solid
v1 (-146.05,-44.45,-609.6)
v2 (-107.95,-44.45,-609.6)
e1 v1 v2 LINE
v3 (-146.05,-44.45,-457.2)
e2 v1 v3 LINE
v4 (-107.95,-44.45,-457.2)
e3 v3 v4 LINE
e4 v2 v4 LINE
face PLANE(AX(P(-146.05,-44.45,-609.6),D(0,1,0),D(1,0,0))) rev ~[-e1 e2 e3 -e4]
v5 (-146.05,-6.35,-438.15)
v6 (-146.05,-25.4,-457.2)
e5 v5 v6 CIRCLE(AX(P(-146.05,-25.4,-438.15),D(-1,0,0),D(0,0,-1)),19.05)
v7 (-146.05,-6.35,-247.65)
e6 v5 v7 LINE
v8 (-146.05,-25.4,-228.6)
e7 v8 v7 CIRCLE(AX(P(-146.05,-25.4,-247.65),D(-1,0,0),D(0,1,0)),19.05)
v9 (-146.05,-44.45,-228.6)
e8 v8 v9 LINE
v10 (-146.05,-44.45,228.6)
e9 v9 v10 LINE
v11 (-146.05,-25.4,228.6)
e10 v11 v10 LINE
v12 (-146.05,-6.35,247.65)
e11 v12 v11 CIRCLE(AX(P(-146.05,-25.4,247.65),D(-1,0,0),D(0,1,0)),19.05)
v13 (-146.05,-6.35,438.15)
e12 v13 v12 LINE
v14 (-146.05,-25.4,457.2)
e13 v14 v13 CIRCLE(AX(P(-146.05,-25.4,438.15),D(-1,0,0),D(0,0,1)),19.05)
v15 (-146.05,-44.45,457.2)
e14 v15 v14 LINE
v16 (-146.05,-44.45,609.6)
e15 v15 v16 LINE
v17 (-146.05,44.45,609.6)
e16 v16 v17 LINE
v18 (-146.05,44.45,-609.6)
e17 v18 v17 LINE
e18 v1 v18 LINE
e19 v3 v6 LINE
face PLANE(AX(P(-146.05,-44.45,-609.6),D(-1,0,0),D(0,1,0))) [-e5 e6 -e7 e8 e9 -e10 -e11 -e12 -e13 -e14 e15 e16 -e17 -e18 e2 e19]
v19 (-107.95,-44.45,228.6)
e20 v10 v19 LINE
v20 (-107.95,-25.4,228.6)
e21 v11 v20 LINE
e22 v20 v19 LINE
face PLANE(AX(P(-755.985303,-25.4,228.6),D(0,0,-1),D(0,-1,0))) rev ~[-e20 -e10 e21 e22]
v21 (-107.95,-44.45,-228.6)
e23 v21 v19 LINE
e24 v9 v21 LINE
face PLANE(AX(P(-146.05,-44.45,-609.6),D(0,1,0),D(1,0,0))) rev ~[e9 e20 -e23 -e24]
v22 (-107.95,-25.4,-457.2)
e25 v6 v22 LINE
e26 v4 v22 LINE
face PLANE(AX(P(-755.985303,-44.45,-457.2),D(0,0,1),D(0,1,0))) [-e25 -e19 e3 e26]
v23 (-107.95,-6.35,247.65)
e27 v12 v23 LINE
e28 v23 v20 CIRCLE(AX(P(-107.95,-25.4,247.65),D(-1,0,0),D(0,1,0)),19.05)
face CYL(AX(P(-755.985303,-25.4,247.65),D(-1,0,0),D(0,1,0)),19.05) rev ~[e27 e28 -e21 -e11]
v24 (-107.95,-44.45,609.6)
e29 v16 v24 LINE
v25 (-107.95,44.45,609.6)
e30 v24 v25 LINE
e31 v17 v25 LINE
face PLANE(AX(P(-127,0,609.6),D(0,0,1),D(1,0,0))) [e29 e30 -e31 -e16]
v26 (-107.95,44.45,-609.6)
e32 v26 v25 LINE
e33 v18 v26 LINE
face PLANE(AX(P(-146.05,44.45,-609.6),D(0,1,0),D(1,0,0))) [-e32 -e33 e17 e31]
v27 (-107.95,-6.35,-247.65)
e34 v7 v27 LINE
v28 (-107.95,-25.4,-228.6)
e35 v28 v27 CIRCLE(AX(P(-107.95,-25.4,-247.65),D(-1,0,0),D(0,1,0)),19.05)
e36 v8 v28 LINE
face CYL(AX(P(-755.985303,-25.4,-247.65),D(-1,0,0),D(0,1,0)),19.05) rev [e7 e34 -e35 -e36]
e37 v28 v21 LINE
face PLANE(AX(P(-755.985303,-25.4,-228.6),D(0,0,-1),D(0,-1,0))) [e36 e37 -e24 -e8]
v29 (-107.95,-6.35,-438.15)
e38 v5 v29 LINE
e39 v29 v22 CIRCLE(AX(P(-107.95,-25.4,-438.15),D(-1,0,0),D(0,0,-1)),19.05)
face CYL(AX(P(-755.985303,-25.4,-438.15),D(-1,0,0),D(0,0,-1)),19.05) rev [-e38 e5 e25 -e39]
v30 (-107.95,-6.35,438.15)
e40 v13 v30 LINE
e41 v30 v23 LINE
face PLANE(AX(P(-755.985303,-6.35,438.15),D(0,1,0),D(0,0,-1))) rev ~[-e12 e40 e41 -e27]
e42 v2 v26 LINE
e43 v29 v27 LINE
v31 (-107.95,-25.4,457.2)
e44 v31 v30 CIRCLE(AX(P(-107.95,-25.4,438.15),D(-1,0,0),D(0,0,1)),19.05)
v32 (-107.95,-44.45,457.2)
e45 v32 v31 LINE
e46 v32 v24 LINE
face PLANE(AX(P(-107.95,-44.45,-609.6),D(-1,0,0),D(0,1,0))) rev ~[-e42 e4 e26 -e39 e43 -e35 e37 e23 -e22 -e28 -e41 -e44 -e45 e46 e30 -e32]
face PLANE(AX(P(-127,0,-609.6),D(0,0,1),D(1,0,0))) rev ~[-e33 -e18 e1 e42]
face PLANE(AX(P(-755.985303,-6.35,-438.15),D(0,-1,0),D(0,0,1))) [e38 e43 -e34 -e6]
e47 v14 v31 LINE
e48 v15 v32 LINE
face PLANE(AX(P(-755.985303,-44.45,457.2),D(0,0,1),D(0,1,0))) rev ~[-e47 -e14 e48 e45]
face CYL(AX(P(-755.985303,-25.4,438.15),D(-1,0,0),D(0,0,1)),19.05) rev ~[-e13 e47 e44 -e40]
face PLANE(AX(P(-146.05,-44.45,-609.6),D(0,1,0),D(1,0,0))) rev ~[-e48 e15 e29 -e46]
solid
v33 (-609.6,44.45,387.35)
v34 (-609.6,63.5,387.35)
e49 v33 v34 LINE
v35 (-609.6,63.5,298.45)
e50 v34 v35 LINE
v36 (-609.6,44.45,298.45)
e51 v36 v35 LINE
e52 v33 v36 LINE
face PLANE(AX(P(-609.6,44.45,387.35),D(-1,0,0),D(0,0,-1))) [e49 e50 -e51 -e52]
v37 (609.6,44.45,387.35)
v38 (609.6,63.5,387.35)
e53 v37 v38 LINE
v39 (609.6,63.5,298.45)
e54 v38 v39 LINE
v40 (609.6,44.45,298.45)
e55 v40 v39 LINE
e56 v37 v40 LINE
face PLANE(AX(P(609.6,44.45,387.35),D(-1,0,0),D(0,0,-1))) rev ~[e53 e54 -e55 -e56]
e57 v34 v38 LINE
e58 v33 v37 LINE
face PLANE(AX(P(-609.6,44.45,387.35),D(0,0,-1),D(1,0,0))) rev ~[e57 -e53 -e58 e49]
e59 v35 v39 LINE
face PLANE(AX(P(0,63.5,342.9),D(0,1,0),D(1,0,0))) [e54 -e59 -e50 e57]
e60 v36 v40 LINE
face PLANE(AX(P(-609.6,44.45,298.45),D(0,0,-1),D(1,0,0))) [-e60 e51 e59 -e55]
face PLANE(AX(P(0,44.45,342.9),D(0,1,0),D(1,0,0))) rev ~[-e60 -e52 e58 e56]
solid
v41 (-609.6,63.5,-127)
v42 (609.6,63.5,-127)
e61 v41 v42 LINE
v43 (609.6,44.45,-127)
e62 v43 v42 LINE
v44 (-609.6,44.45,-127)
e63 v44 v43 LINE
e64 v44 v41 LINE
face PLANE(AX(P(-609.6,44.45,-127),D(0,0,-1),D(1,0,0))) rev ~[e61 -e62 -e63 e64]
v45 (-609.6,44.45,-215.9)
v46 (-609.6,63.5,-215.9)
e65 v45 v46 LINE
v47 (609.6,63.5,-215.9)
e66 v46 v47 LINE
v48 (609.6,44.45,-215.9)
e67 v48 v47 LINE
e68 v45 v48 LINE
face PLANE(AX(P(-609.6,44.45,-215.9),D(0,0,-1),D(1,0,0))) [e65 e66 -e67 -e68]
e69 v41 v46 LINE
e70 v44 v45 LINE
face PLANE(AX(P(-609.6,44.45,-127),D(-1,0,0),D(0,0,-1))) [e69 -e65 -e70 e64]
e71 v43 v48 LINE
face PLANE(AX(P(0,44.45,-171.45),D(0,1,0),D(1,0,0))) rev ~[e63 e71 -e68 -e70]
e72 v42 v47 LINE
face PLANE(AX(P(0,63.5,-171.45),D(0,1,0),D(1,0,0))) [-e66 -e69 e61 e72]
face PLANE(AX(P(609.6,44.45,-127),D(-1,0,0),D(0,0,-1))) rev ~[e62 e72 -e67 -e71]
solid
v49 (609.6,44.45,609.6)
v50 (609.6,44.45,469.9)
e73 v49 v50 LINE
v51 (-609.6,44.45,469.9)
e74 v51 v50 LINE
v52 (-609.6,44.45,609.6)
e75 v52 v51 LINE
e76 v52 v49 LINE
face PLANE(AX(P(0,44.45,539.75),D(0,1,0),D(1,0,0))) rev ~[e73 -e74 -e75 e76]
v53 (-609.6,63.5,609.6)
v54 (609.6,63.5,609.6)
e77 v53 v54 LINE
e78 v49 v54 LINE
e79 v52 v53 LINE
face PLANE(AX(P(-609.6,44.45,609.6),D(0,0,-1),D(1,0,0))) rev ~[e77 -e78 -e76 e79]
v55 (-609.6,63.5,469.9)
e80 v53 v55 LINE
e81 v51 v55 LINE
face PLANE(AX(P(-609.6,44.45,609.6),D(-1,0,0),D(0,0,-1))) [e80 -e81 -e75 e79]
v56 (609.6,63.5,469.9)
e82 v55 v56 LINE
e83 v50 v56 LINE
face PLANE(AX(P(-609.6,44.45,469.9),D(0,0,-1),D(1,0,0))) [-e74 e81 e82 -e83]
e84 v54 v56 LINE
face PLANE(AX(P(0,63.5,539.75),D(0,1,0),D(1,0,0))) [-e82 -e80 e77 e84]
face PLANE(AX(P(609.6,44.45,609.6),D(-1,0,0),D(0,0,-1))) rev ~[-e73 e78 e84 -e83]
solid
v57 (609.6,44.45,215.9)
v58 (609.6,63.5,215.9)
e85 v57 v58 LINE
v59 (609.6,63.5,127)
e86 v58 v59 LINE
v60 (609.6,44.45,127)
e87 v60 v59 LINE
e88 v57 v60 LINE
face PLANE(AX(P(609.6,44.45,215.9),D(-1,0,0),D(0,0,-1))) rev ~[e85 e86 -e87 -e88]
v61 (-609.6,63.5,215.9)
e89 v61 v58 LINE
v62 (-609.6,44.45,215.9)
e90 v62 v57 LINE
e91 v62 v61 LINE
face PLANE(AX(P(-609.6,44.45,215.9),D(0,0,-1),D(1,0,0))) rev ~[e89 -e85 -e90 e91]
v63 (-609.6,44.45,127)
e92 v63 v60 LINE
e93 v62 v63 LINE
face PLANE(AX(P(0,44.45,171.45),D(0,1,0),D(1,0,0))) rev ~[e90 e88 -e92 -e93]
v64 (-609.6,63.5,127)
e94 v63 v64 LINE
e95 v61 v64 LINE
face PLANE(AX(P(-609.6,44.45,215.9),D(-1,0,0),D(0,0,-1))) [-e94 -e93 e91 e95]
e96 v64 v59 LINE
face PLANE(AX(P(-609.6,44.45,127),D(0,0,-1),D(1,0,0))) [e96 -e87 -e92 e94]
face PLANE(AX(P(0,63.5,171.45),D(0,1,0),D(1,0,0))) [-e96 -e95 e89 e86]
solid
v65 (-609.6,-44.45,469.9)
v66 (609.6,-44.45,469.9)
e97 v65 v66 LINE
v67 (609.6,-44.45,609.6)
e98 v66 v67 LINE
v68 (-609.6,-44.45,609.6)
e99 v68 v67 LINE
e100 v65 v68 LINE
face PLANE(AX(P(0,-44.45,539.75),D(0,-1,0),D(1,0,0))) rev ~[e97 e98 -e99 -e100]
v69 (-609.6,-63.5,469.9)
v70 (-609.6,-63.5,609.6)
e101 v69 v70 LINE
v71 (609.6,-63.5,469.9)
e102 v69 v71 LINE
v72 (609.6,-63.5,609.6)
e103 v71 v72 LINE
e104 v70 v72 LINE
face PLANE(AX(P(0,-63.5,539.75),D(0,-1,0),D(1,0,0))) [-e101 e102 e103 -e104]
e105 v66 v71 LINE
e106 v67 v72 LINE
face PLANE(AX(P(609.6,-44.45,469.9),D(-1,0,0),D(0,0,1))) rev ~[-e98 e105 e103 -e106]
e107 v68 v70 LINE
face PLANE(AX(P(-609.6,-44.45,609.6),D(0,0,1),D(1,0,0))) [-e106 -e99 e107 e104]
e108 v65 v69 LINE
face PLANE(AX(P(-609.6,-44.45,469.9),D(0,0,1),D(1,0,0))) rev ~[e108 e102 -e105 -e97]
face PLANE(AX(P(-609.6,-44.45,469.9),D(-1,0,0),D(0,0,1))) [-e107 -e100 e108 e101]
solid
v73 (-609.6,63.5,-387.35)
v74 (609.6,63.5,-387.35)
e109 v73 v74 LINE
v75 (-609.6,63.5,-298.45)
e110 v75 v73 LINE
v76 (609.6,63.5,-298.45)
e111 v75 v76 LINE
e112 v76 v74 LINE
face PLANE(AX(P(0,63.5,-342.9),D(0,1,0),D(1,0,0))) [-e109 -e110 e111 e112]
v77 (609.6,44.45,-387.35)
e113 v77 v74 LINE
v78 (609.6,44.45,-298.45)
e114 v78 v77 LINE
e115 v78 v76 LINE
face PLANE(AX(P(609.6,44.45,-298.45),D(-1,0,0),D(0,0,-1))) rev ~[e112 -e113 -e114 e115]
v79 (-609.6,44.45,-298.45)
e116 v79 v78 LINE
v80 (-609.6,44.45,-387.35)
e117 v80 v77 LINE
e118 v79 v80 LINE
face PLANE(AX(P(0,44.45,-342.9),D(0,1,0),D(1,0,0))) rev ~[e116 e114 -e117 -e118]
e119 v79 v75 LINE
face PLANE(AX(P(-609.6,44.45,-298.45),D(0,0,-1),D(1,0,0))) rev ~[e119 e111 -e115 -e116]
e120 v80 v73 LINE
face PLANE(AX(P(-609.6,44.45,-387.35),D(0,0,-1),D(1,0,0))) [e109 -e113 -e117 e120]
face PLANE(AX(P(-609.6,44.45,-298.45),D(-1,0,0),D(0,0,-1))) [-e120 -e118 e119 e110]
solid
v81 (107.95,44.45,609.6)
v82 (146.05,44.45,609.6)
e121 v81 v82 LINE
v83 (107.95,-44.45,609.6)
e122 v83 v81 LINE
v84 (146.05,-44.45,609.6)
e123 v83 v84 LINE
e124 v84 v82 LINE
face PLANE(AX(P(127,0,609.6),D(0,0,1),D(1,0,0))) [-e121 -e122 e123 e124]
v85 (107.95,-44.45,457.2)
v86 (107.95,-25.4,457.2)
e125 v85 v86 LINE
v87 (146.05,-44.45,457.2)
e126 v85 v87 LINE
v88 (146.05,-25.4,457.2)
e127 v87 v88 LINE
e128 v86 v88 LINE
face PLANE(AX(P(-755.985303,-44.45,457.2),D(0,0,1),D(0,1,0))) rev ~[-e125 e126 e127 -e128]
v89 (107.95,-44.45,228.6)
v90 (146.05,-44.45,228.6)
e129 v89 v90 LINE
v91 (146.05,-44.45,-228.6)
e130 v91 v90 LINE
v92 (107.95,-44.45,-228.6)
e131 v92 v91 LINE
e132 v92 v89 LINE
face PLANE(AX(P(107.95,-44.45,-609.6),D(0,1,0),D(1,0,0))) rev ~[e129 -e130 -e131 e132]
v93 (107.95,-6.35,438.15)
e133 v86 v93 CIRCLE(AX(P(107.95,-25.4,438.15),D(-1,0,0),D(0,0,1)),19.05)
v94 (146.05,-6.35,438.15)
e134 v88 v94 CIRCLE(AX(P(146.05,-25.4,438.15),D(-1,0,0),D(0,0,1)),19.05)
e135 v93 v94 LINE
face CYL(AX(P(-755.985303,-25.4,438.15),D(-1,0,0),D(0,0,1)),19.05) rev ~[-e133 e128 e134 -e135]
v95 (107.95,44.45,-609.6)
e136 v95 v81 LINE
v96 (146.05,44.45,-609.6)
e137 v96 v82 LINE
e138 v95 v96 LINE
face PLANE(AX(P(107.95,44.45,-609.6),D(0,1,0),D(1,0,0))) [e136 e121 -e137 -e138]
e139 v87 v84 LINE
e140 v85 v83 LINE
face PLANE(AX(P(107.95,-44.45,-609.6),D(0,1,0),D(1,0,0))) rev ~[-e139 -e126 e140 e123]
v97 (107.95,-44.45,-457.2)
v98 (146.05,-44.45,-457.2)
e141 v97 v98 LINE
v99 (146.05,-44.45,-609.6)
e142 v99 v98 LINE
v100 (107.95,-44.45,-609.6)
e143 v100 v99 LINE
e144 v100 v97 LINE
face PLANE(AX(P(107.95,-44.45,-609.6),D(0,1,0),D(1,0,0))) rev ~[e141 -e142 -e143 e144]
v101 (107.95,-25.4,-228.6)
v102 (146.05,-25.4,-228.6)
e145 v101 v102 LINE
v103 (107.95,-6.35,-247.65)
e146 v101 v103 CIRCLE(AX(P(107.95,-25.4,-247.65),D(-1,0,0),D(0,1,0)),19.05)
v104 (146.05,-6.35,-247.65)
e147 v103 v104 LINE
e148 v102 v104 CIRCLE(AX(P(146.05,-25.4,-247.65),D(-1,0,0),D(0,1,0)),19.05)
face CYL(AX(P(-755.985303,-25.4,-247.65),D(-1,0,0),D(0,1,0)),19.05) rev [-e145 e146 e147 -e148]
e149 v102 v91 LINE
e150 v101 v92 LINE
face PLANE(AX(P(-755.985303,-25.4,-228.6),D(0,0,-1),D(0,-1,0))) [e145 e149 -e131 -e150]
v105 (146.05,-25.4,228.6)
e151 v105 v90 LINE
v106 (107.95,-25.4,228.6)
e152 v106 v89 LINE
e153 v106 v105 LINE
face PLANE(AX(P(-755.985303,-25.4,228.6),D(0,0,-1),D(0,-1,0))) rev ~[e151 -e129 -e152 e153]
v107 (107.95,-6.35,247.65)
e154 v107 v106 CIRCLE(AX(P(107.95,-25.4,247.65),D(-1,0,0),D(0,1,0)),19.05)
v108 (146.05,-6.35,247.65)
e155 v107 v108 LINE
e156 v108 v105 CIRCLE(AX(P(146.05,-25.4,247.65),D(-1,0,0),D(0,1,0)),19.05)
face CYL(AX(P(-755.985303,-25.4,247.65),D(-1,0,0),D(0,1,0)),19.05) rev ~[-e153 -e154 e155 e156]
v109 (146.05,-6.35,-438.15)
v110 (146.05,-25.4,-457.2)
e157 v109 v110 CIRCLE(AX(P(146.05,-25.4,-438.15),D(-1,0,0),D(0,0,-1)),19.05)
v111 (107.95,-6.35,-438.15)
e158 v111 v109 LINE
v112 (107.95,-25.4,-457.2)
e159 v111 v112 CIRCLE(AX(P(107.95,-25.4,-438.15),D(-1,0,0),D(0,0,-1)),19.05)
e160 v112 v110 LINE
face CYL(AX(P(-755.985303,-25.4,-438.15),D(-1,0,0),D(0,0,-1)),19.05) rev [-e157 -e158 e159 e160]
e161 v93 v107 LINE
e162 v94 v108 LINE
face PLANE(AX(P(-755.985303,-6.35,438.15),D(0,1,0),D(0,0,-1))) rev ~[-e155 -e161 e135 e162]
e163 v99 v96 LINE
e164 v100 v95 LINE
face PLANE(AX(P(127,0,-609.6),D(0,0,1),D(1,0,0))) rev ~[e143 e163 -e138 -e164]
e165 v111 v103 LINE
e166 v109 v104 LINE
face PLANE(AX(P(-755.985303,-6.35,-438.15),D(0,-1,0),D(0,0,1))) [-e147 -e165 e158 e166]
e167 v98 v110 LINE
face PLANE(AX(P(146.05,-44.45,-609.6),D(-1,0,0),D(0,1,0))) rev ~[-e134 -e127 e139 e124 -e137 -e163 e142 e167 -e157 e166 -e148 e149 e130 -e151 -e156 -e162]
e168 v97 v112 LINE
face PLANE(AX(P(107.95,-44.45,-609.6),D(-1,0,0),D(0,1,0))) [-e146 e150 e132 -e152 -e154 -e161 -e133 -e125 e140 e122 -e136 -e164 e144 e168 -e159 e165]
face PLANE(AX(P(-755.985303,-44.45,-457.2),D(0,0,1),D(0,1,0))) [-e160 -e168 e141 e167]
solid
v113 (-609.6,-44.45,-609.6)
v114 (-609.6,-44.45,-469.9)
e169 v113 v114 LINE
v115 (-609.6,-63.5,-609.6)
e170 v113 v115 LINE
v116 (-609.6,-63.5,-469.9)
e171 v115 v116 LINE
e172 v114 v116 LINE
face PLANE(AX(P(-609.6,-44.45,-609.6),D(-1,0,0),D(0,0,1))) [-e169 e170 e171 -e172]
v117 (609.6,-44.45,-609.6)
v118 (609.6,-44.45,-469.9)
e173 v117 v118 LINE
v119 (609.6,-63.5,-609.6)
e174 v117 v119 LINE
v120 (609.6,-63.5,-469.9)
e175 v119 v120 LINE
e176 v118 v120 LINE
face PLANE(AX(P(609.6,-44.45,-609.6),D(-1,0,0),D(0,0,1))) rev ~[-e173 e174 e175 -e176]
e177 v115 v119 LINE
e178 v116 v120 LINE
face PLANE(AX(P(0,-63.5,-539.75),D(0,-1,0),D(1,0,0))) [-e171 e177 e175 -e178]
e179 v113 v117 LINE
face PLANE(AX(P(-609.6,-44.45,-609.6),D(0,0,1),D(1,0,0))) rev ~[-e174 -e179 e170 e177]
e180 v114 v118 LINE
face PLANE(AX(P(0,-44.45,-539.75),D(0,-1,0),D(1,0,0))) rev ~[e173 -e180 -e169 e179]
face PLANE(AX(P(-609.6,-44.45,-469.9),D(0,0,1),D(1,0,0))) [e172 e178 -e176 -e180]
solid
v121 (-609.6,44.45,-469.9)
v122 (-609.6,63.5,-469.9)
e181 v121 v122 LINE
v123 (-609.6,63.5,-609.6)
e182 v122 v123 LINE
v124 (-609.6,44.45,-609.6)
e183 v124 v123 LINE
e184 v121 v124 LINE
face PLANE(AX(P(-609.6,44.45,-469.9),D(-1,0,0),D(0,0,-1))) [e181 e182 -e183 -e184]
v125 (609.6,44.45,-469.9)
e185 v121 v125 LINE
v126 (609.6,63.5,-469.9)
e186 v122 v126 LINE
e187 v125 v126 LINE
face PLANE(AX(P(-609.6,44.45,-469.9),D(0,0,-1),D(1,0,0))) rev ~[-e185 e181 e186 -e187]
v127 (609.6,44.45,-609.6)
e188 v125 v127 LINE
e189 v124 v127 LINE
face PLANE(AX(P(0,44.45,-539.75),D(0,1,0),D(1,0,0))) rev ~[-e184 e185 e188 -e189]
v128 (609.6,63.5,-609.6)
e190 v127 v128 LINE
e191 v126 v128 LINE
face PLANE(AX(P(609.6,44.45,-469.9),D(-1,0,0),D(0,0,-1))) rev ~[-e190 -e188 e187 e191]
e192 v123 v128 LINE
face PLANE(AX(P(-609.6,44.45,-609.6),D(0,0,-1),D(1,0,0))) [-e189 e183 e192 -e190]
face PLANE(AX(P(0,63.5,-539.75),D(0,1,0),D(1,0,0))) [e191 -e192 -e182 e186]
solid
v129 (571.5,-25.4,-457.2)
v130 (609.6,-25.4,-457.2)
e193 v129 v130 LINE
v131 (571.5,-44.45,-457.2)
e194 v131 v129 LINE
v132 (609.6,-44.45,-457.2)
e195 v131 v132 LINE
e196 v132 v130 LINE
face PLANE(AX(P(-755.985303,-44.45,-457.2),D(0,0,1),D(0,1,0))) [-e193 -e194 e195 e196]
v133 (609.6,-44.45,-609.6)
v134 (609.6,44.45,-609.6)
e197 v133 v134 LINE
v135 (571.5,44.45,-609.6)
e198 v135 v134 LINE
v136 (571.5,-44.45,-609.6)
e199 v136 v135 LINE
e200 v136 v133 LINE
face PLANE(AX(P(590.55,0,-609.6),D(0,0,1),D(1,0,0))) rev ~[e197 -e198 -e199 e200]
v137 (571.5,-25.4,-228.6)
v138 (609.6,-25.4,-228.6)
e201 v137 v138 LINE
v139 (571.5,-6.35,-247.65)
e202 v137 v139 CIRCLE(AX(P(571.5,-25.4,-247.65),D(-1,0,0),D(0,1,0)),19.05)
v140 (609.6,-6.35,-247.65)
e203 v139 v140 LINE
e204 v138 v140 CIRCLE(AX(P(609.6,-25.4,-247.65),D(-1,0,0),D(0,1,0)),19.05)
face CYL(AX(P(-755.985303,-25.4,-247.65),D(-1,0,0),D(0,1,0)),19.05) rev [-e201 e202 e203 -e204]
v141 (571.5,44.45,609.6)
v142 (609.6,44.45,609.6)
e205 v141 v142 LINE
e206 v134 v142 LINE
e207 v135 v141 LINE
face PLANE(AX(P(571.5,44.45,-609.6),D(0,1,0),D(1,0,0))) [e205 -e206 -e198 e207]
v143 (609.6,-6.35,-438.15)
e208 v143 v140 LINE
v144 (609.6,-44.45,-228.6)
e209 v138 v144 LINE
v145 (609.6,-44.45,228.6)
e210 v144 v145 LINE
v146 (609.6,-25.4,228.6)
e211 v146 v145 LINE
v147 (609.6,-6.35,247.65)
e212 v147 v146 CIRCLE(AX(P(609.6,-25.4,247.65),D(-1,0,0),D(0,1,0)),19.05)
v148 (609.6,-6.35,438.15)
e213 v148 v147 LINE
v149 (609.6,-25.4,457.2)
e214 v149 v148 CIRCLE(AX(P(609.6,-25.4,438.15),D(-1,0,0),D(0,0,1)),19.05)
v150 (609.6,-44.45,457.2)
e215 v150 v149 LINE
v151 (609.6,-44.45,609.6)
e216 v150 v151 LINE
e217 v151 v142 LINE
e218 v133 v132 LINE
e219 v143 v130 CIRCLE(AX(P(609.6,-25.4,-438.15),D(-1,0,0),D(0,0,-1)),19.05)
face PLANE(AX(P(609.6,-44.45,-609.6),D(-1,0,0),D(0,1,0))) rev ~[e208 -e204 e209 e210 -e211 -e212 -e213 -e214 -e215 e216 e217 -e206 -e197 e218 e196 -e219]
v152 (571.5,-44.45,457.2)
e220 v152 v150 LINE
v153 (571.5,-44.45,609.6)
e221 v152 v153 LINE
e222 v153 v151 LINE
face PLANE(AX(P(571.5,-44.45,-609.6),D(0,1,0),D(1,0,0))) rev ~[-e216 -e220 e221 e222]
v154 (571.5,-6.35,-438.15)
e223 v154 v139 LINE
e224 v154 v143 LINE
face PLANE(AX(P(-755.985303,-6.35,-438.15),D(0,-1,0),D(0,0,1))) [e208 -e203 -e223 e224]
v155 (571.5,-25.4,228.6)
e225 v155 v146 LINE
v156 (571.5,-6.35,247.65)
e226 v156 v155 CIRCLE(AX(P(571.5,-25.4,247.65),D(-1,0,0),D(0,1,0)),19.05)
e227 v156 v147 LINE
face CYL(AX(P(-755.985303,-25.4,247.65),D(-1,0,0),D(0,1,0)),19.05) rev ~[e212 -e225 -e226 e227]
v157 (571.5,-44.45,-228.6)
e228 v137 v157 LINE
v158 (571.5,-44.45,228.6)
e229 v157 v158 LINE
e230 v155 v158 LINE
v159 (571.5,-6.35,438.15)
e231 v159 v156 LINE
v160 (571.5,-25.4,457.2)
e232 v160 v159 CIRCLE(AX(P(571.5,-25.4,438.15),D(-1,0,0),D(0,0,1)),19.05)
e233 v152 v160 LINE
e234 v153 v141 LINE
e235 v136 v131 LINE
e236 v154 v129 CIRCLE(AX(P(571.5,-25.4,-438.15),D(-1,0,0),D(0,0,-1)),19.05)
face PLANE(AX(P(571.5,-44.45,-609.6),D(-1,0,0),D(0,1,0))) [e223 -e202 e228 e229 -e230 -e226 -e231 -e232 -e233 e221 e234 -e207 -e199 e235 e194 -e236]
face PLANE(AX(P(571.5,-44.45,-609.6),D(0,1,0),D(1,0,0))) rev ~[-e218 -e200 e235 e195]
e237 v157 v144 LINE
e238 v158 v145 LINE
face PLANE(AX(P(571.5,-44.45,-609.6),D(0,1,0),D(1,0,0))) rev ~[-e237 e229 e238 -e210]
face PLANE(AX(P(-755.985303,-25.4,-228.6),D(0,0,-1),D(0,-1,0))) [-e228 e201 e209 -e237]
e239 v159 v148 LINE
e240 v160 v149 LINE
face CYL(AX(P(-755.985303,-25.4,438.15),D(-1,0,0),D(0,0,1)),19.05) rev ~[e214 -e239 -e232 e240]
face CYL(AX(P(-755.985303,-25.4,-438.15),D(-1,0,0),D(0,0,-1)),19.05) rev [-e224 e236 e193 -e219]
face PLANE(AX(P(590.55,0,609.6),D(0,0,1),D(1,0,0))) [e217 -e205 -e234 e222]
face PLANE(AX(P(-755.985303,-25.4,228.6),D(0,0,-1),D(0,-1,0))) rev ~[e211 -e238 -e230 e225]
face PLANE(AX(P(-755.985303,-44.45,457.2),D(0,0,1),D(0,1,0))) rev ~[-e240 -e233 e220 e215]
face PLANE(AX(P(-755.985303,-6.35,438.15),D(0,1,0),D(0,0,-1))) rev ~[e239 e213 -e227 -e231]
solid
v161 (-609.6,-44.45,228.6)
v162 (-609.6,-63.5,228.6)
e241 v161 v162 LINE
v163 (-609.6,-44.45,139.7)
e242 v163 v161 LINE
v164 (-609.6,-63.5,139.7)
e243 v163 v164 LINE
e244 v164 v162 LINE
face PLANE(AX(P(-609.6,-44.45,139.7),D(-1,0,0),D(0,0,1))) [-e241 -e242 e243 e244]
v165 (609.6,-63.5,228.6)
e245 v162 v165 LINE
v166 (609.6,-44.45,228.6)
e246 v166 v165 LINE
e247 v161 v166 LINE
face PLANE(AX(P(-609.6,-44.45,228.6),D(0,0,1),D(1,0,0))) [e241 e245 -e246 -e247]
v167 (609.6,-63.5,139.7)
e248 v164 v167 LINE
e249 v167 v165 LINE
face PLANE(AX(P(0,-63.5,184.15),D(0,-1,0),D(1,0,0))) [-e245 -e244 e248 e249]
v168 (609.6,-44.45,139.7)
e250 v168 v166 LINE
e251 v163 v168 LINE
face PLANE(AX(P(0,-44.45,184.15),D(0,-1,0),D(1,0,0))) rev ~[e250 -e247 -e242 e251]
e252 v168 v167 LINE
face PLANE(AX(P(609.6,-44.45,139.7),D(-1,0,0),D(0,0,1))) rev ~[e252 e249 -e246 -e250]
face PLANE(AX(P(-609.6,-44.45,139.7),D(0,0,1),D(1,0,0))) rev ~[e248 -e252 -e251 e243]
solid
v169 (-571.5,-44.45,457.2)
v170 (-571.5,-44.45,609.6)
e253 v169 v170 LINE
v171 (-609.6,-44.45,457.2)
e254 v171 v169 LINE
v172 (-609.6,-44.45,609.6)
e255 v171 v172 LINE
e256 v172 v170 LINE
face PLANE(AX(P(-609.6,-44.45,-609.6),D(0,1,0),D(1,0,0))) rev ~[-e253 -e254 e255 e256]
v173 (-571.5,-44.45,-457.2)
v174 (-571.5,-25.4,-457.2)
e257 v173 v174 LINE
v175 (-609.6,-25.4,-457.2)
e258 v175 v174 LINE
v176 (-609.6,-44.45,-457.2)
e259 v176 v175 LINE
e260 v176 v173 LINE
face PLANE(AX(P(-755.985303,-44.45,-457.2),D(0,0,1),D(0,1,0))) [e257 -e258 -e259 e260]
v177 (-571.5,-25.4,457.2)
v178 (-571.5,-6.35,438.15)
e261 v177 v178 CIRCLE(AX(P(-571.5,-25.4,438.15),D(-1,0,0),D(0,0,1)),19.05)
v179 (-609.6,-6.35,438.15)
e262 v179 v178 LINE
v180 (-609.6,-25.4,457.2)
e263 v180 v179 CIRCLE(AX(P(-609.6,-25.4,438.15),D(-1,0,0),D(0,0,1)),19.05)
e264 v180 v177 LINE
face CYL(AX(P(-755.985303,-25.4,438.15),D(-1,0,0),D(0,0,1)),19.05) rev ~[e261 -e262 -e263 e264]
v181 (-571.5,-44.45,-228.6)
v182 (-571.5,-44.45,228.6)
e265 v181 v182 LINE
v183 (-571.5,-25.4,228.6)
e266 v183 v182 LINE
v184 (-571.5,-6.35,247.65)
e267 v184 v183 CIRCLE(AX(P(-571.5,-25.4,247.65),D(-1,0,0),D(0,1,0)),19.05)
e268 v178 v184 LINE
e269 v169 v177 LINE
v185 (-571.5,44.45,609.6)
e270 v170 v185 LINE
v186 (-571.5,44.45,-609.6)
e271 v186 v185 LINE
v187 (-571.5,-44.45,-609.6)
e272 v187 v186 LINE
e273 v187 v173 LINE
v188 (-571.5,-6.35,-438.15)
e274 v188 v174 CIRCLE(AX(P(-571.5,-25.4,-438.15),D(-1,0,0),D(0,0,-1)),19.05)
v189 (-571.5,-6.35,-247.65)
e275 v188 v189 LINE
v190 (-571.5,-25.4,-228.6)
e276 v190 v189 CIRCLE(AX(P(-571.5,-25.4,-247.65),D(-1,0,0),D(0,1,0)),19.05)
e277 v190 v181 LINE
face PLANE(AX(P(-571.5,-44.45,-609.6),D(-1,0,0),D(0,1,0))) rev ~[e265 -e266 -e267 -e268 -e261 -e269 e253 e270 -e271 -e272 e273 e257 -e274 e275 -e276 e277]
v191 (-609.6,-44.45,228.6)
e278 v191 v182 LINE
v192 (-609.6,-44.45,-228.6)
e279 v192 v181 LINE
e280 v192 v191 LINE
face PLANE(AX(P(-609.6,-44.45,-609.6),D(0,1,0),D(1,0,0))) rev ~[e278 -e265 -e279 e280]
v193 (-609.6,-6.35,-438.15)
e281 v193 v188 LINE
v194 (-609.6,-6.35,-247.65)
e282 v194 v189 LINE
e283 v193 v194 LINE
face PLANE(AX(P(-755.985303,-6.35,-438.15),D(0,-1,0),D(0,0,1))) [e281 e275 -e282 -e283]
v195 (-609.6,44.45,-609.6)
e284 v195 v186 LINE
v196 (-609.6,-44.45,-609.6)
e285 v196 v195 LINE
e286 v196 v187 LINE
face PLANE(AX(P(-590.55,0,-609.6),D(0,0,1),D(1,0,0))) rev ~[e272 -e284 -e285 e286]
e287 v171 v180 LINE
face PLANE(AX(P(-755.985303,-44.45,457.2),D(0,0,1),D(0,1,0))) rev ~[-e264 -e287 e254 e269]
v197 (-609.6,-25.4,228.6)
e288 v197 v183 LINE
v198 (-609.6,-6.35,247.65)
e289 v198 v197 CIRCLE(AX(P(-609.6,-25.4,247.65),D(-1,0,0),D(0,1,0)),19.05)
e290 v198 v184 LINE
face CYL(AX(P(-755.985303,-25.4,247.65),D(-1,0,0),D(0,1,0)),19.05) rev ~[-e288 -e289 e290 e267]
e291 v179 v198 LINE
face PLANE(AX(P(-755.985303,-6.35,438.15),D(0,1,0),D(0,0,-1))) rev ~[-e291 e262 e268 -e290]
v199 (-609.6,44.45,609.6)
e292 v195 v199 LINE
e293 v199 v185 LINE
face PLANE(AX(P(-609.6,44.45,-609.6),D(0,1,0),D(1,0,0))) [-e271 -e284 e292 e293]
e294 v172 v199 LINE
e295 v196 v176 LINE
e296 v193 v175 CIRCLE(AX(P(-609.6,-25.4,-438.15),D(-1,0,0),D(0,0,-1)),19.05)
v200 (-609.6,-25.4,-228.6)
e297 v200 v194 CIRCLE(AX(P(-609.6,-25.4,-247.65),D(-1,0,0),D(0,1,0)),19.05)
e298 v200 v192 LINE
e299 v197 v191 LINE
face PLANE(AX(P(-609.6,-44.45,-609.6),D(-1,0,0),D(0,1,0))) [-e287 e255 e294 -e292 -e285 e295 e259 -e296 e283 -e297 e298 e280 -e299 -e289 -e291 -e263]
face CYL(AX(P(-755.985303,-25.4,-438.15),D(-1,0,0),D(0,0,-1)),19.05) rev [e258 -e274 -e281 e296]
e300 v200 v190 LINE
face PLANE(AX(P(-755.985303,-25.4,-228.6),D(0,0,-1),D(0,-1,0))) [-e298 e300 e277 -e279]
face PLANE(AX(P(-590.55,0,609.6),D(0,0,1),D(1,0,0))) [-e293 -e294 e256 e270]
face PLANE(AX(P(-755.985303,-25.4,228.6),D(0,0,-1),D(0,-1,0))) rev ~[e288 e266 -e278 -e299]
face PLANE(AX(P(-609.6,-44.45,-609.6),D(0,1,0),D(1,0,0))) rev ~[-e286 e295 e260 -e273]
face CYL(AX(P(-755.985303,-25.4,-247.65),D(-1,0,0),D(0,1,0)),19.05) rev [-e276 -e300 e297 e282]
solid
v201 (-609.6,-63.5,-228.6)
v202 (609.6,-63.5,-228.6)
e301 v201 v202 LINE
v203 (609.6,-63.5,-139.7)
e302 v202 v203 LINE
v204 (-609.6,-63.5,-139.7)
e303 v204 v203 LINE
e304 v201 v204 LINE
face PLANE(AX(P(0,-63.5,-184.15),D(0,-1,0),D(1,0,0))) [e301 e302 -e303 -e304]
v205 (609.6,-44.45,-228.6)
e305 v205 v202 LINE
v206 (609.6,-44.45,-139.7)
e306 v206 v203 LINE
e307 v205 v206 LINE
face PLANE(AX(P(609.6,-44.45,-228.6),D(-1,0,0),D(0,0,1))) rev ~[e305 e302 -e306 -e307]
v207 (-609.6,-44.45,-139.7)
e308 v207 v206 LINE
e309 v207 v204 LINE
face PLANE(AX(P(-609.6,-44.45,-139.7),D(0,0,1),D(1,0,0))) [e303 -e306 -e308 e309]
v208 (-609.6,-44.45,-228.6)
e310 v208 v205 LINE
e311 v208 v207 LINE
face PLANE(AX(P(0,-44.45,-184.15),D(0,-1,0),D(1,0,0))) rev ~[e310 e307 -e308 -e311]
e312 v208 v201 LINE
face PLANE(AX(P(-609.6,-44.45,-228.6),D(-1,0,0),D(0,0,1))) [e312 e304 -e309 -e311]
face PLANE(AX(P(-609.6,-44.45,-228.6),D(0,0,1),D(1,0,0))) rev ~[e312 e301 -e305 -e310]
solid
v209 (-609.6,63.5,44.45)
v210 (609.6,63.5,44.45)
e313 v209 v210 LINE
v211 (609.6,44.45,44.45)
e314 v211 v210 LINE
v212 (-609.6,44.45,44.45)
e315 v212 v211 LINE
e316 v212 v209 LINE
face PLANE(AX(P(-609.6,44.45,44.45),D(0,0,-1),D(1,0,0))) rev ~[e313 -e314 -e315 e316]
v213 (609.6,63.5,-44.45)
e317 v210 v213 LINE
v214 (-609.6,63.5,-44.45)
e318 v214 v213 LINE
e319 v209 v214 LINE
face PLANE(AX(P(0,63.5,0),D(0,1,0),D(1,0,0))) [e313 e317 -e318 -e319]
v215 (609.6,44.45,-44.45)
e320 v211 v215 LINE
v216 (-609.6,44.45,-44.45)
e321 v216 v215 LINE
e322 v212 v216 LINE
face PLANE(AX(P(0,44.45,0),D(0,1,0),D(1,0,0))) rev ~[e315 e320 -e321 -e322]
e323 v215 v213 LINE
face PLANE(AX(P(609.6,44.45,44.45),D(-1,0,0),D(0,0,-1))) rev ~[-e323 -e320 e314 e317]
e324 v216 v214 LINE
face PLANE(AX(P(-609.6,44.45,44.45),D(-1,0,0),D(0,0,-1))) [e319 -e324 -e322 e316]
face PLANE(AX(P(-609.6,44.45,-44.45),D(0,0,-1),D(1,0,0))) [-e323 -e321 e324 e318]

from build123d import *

# Parameters (mm, degrees)
BOSS_EXTRUDE1_DEPTH        = 609.6
BOSS_EXTRUDE1_DEPTH_BACK   = 609.6
SKETCH3_W                  = 38.1
SKETCH3_H                  = 88.9
BOSS_EXTRUDE1_2_DEPTH      = 609.6
BOSS_EXTRUDE1_2_DEPTH_BACK = 609.6
BOSS_EXTRUDE1_3_DEPTH      = 609.6
BOSS_EXTRUDE1_3_DEPTH_BACK = 609.6
BOSS_EXTRUDE1_4_DEPTH      = 609.6
BOSS_EXTRUDE1_4_DEPTH_BACK = 609.6
SKETCH4_W                  = 1219.2
SKETCH4_H                  = 139.7
BOSS_EXTRUDE2_DEPTH        = 19.05
BOSS_EXTRUDE2_2_DEPTH      = 19.05
SKETCH4_H_2                = 88.9
BOSS_EXTRUDE2_3_DEPTH      = 19.05
BOSS_EXTRUDE2_4_DEPTH      = 19.05
BOSS_EXTRUDE2_5_DEPTH      = 19.05
BOSS_EXTRUDE2_6_DEPTH      = 19.05
BOSS_EXTRUDE2_7_DEPTH      = 19.05
SKETCH5_W                  = 1219.2
SKETCH5_H                  = 139.7
BOSS_EXTRUDE3_DEPTH        = 19.05
BOSS_EXTRUDE3_2_DEPTH      = 19.05
SKETCH5_H_2                = 88.9
BOSS_EXTRUDE3_3_DEPTH      = 19.05
BOSS_EXTRUDE3_4_DEPTH      = 19.05
CUT_EXTRUDE2_DEPTH         = 1365.585303306
CUT_EXTRUDE2_DEPTH_BACK    = 1365.585303306


with BuildPart() as part:
    # Sketch3 → Boss-Extrude1 (new, two sides: drawn at the far end of the back side and taken through both)
    with BuildSketch(Plane.XY.offset(-BOSS_EXTRUDE1_DEPTH_BACK)):
        with Locations((-590.55, 0)):
            Rectangle(SKETCH3_W, SKETCH3_H)
    extrude(amount=BOSS_EXTRUDE1_DEPTH + BOSS_EXTRUDE1_DEPTH_BACK)


with BuildPart() as body_2:
    # Sketch3 → Boss-Extrude1 2 (new, two sides: drawn at the far end of the back side and taken through both)
    with BuildSketch(Plane.XY.offset(-BOSS_EXTRUDE1_2_DEPTH_BACK)):
        with Locations((127, 0)):
            Rectangle(SKETCH3_W, SKETCH3_H)
    extrude(amount=BOSS_EXTRUDE1_2_DEPTH + BOSS_EXTRUDE1_2_DEPTH_BACK)


with BuildPart() as body_3:
    # Sketch3 → Boss-Extrude1 3 (new, two sides: drawn at the far end of the back side and taken through both)
    with BuildSketch(Plane.XY.offset(-BOSS_EXTRUDE1_3_DEPTH_BACK)):
        with Locations((590.55, 0)):
            Rectangle(SKETCH3_W, SKETCH3_H)
    extrude(amount=BOSS_EXTRUDE1_3_DEPTH + BOSS_EXTRUDE1_3_DEPTH_BACK)


with BuildPart() as body_4:
    # Sketch3 → Boss-Extrude1 4 (new, two sides: drawn at the far end of the back side and taken through both)
    with BuildSketch(Plane.XY.offset(-BOSS_EXTRUDE1_4_DEPTH_BACK)):
        with Locations((-127, 0)):
            Rectangle(SKETCH3_W, SKETCH3_H)
    extrude(amount=BOSS_EXTRUDE1_4_DEPTH + BOSS_EXTRUDE1_4_DEPTH_BACK)


with BuildPart() as body_5:
    # Sketch4 → Boss-Extrude2 (new body)
    with BuildSketch(Plane(origin=(0, 44.45, 0), x_dir=(1, 0, 0), z_dir=(0, 1, 0))):
        with Locations((0, -539.75)):
            Rectangle(SKETCH4_W, SKETCH4_H)
    extrude(amount=BOSS_EXTRUDE2_DEPTH)


with BuildPart() as body_6:
    # Sketch4 → Boss-Extrude2 2 (new body)
    with BuildSketch(Plane(origin=(0, 44.45, 0), x_dir=(1, 0, 0), z_dir=(0, 1, 0))):
        with Locations((0, 539.75)):
            Rectangle(SKETCH4_W, SKETCH4_H)
    extrude(amount=BOSS_EXTRUDE2_2_DEPTH)


with BuildPart() as body_7:
    # Sketch4 → Boss-Extrude2 3 (new body)
    with BuildSketch(Plane(origin=(0, 44.45, 0), x_dir=(1, 0, 0), z_dir=(0, 1, 0))):
        with Locations((0, -342.9)):
            Rectangle(SKETCH4_W, SKETCH4_H_2)
    extrude(amount=BOSS_EXTRUDE2_3_DEPTH)


with BuildPart() as body_8:
    # Sketch4 → Boss-Extrude2 4 (new body)
    with BuildSketch(Plane(origin=(0, 44.45, 0), x_dir=(1, 0, 0), z_dir=(0, 1, 0))):
        with Locations((0, -171.45)):
            Rectangle(SKETCH4_W, SKETCH4_H_2)
    extrude(amount=BOSS_EXTRUDE2_4_DEPTH)


with BuildPart() as body_9:
    # Sketch4 → Boss-Extrude2 5 (new body)
    with BuildSketch(Plane(origin=(0, 44.45, 0), x_dir=(1, 0, 0), z_dir=(0, 1, 0))):
        with Locations((0, 342.9)):
            Rectangle(SKETCH4_W, SKETCH4_H_2)
    extrude(amount=BOSS_EXTRUDE2_5_DEPTH)


with BuildPart() as body_10:
    # Sketch4 → Boss-Extrude2 6 (new body)
    with BuildSketch(Plane(origin=(0, 44.45, 0), x_dir=(1, 0, 0), z_dir=(0, 1, 0))):
        with Locations((0, 171.45)):
            Rectangle(SKETCH4_W, SKETCH4_H_2)
    extrude(amount=BOSS_EXTRUDE2_6_DEPTH)


with BuildPart() as body_11:
    # Sketch4 → Boss-Extrude2 7 (new body)
    with BuildSketch(Plane(origin=(0, 44.45, 0), x_dir=(1, 0, 0), z_dir=(0, 1, 0))):
        Rectangle(SKETCH4_W, SKETCH4_H_2)
    extrude(amount=BOSS_EXTRUDE2_7_DEPTH)


with BuildPart() as body_12:
    # Sketch5 → Boss-Extrude3 (new body)
    with BuildSketch(Plane.XZ.offset(44.45)):
        with Locations((0, 539.75)):
            Rectangle(SKETCH5_W, SKETCH5_H)
    extrude(amount=BOSS_EXTRUDE3_DEPTH)


with BuildPart() as body_13:
    # Sketch5 → Boss-Extrude3 2 (new body)
    with BuildSketch(Plane.XZ.offset(44.45)):
        with Locations((0, -539.75)):
            Rectangle(SKETCH5_W, SKETCH5_H)
    extrude(amount=BOSS_EXTRUDE3_2_DEPTH)


with BuildPart() as body_14:
    # Sketch5 → Boss-Extrude3 3 (new body)
    with BuildSketch(Plane.XZ.offset(44.45)):
        with Locations((0, 184.15)):
            Rectangle(SKETCH5_W, SKETCH5_H_2)
    extrude(amount=BOSS_EXTRUDE3_3_DEPTH)


with BuildPart() as body_15:
    # Sketch5 → Boss-Extrude3 4 (new body)
    with BuildSketch(Plane.XZ.offset(44.45)):
        with Locations((0, -184.15)):
            Rectangle(SKETCH5_W, SKETCH5_H_2)
    extrude(amount=BOSS_EXTRUDE3_4_DEPTH)


with BuildPart() as cut_extrude2_tool:
    # Sketch8 → Cut-Extrude2 (new, two sides: drawn at the far end of the back side and taken through both)
    with BuildSketch(Plane(origin=(609.6, 0, 0), x_dir=(0, 0, -1), z_dir=(1, 0, 0)).offset(-CUT_EXTRUDE2_DEPTH_BACK)):
        with BuildLine():
            Line((-228.6, -44.45), (-457.2, -44.45))
            Line((-457.2, -44.45), (-457.2, -25.4))
            ThreePointArc((-457.2, -25.4), (-451.620384182, -11.929615818), (-438.15, -6.35))
            Line((-438.15, -6.35), (-247.65, -6.35))
            ThreePointArc((-247.65, -6.35), (-234.179615818, -11.929615818), (-228.6, -25.4))
            Line((-228.6, -25.4), (-228.6, -44.45))
        make_face()
        with BuildLine():
            Line((228.6, -44.45), (457.2, -44.45))
            Line((457.2, -44.45), (457.2, -25.4))
            ThreePointArc((457.2, -25.4), (451.620384182, -11.929615818), (438.15, -6.35))
            Line((438.15, -6.35), (247.65, -6.35))
            ThreePointArc((247.65, -6.35), (234.179615818, -11.929615818), (228.6, -25.4))
            Line((228.6, -25.4), (228.6, -44.45))
        make_face()
    extrude(amount=CUT_EXTRUDE2_DEPTH + CUT_EXTRUDE2_DEPTH_BACK)


with BuildPart() as part_1:
    add(part.part)

    # Cut-Extrude2: cut by cut_extrude2_tool
    add(cut_extrude2_tool.part, mode=Mode.SUBTRACT)


with BuildPart() as body_2_1:
    add(body_2.part)

    # Cut-Extrude2: cut by cut_extrude2_tool
    add(cut_extrude2_tool.part, mode=Mode.SUBTRACT)


with BuildPart() as body_3_1:
    add(body_3.part)

    # Cut-Extrude2: cut by cut_extrude2_tool
    add(cut_extrude2_tool.part, mode=Mode.SUBTRACT)


with BuildPart() as body_4_1:
    add(body_4.part)

    # Cut-Extrude2: cut by cut_extrude2_tool
    add(cut_extrude2_tool.part, mode=Mode.SUBTRACT)


solid = Compound([body_5.part, body_6.part, body_7.part, body_8.part, body_9.part, body_10.part, body_11.part, body_12.part, body_13.part, body_14.part, body_15.part, part_1.part, body_2_1.part, body_3_1.part, body_4_1.part])
